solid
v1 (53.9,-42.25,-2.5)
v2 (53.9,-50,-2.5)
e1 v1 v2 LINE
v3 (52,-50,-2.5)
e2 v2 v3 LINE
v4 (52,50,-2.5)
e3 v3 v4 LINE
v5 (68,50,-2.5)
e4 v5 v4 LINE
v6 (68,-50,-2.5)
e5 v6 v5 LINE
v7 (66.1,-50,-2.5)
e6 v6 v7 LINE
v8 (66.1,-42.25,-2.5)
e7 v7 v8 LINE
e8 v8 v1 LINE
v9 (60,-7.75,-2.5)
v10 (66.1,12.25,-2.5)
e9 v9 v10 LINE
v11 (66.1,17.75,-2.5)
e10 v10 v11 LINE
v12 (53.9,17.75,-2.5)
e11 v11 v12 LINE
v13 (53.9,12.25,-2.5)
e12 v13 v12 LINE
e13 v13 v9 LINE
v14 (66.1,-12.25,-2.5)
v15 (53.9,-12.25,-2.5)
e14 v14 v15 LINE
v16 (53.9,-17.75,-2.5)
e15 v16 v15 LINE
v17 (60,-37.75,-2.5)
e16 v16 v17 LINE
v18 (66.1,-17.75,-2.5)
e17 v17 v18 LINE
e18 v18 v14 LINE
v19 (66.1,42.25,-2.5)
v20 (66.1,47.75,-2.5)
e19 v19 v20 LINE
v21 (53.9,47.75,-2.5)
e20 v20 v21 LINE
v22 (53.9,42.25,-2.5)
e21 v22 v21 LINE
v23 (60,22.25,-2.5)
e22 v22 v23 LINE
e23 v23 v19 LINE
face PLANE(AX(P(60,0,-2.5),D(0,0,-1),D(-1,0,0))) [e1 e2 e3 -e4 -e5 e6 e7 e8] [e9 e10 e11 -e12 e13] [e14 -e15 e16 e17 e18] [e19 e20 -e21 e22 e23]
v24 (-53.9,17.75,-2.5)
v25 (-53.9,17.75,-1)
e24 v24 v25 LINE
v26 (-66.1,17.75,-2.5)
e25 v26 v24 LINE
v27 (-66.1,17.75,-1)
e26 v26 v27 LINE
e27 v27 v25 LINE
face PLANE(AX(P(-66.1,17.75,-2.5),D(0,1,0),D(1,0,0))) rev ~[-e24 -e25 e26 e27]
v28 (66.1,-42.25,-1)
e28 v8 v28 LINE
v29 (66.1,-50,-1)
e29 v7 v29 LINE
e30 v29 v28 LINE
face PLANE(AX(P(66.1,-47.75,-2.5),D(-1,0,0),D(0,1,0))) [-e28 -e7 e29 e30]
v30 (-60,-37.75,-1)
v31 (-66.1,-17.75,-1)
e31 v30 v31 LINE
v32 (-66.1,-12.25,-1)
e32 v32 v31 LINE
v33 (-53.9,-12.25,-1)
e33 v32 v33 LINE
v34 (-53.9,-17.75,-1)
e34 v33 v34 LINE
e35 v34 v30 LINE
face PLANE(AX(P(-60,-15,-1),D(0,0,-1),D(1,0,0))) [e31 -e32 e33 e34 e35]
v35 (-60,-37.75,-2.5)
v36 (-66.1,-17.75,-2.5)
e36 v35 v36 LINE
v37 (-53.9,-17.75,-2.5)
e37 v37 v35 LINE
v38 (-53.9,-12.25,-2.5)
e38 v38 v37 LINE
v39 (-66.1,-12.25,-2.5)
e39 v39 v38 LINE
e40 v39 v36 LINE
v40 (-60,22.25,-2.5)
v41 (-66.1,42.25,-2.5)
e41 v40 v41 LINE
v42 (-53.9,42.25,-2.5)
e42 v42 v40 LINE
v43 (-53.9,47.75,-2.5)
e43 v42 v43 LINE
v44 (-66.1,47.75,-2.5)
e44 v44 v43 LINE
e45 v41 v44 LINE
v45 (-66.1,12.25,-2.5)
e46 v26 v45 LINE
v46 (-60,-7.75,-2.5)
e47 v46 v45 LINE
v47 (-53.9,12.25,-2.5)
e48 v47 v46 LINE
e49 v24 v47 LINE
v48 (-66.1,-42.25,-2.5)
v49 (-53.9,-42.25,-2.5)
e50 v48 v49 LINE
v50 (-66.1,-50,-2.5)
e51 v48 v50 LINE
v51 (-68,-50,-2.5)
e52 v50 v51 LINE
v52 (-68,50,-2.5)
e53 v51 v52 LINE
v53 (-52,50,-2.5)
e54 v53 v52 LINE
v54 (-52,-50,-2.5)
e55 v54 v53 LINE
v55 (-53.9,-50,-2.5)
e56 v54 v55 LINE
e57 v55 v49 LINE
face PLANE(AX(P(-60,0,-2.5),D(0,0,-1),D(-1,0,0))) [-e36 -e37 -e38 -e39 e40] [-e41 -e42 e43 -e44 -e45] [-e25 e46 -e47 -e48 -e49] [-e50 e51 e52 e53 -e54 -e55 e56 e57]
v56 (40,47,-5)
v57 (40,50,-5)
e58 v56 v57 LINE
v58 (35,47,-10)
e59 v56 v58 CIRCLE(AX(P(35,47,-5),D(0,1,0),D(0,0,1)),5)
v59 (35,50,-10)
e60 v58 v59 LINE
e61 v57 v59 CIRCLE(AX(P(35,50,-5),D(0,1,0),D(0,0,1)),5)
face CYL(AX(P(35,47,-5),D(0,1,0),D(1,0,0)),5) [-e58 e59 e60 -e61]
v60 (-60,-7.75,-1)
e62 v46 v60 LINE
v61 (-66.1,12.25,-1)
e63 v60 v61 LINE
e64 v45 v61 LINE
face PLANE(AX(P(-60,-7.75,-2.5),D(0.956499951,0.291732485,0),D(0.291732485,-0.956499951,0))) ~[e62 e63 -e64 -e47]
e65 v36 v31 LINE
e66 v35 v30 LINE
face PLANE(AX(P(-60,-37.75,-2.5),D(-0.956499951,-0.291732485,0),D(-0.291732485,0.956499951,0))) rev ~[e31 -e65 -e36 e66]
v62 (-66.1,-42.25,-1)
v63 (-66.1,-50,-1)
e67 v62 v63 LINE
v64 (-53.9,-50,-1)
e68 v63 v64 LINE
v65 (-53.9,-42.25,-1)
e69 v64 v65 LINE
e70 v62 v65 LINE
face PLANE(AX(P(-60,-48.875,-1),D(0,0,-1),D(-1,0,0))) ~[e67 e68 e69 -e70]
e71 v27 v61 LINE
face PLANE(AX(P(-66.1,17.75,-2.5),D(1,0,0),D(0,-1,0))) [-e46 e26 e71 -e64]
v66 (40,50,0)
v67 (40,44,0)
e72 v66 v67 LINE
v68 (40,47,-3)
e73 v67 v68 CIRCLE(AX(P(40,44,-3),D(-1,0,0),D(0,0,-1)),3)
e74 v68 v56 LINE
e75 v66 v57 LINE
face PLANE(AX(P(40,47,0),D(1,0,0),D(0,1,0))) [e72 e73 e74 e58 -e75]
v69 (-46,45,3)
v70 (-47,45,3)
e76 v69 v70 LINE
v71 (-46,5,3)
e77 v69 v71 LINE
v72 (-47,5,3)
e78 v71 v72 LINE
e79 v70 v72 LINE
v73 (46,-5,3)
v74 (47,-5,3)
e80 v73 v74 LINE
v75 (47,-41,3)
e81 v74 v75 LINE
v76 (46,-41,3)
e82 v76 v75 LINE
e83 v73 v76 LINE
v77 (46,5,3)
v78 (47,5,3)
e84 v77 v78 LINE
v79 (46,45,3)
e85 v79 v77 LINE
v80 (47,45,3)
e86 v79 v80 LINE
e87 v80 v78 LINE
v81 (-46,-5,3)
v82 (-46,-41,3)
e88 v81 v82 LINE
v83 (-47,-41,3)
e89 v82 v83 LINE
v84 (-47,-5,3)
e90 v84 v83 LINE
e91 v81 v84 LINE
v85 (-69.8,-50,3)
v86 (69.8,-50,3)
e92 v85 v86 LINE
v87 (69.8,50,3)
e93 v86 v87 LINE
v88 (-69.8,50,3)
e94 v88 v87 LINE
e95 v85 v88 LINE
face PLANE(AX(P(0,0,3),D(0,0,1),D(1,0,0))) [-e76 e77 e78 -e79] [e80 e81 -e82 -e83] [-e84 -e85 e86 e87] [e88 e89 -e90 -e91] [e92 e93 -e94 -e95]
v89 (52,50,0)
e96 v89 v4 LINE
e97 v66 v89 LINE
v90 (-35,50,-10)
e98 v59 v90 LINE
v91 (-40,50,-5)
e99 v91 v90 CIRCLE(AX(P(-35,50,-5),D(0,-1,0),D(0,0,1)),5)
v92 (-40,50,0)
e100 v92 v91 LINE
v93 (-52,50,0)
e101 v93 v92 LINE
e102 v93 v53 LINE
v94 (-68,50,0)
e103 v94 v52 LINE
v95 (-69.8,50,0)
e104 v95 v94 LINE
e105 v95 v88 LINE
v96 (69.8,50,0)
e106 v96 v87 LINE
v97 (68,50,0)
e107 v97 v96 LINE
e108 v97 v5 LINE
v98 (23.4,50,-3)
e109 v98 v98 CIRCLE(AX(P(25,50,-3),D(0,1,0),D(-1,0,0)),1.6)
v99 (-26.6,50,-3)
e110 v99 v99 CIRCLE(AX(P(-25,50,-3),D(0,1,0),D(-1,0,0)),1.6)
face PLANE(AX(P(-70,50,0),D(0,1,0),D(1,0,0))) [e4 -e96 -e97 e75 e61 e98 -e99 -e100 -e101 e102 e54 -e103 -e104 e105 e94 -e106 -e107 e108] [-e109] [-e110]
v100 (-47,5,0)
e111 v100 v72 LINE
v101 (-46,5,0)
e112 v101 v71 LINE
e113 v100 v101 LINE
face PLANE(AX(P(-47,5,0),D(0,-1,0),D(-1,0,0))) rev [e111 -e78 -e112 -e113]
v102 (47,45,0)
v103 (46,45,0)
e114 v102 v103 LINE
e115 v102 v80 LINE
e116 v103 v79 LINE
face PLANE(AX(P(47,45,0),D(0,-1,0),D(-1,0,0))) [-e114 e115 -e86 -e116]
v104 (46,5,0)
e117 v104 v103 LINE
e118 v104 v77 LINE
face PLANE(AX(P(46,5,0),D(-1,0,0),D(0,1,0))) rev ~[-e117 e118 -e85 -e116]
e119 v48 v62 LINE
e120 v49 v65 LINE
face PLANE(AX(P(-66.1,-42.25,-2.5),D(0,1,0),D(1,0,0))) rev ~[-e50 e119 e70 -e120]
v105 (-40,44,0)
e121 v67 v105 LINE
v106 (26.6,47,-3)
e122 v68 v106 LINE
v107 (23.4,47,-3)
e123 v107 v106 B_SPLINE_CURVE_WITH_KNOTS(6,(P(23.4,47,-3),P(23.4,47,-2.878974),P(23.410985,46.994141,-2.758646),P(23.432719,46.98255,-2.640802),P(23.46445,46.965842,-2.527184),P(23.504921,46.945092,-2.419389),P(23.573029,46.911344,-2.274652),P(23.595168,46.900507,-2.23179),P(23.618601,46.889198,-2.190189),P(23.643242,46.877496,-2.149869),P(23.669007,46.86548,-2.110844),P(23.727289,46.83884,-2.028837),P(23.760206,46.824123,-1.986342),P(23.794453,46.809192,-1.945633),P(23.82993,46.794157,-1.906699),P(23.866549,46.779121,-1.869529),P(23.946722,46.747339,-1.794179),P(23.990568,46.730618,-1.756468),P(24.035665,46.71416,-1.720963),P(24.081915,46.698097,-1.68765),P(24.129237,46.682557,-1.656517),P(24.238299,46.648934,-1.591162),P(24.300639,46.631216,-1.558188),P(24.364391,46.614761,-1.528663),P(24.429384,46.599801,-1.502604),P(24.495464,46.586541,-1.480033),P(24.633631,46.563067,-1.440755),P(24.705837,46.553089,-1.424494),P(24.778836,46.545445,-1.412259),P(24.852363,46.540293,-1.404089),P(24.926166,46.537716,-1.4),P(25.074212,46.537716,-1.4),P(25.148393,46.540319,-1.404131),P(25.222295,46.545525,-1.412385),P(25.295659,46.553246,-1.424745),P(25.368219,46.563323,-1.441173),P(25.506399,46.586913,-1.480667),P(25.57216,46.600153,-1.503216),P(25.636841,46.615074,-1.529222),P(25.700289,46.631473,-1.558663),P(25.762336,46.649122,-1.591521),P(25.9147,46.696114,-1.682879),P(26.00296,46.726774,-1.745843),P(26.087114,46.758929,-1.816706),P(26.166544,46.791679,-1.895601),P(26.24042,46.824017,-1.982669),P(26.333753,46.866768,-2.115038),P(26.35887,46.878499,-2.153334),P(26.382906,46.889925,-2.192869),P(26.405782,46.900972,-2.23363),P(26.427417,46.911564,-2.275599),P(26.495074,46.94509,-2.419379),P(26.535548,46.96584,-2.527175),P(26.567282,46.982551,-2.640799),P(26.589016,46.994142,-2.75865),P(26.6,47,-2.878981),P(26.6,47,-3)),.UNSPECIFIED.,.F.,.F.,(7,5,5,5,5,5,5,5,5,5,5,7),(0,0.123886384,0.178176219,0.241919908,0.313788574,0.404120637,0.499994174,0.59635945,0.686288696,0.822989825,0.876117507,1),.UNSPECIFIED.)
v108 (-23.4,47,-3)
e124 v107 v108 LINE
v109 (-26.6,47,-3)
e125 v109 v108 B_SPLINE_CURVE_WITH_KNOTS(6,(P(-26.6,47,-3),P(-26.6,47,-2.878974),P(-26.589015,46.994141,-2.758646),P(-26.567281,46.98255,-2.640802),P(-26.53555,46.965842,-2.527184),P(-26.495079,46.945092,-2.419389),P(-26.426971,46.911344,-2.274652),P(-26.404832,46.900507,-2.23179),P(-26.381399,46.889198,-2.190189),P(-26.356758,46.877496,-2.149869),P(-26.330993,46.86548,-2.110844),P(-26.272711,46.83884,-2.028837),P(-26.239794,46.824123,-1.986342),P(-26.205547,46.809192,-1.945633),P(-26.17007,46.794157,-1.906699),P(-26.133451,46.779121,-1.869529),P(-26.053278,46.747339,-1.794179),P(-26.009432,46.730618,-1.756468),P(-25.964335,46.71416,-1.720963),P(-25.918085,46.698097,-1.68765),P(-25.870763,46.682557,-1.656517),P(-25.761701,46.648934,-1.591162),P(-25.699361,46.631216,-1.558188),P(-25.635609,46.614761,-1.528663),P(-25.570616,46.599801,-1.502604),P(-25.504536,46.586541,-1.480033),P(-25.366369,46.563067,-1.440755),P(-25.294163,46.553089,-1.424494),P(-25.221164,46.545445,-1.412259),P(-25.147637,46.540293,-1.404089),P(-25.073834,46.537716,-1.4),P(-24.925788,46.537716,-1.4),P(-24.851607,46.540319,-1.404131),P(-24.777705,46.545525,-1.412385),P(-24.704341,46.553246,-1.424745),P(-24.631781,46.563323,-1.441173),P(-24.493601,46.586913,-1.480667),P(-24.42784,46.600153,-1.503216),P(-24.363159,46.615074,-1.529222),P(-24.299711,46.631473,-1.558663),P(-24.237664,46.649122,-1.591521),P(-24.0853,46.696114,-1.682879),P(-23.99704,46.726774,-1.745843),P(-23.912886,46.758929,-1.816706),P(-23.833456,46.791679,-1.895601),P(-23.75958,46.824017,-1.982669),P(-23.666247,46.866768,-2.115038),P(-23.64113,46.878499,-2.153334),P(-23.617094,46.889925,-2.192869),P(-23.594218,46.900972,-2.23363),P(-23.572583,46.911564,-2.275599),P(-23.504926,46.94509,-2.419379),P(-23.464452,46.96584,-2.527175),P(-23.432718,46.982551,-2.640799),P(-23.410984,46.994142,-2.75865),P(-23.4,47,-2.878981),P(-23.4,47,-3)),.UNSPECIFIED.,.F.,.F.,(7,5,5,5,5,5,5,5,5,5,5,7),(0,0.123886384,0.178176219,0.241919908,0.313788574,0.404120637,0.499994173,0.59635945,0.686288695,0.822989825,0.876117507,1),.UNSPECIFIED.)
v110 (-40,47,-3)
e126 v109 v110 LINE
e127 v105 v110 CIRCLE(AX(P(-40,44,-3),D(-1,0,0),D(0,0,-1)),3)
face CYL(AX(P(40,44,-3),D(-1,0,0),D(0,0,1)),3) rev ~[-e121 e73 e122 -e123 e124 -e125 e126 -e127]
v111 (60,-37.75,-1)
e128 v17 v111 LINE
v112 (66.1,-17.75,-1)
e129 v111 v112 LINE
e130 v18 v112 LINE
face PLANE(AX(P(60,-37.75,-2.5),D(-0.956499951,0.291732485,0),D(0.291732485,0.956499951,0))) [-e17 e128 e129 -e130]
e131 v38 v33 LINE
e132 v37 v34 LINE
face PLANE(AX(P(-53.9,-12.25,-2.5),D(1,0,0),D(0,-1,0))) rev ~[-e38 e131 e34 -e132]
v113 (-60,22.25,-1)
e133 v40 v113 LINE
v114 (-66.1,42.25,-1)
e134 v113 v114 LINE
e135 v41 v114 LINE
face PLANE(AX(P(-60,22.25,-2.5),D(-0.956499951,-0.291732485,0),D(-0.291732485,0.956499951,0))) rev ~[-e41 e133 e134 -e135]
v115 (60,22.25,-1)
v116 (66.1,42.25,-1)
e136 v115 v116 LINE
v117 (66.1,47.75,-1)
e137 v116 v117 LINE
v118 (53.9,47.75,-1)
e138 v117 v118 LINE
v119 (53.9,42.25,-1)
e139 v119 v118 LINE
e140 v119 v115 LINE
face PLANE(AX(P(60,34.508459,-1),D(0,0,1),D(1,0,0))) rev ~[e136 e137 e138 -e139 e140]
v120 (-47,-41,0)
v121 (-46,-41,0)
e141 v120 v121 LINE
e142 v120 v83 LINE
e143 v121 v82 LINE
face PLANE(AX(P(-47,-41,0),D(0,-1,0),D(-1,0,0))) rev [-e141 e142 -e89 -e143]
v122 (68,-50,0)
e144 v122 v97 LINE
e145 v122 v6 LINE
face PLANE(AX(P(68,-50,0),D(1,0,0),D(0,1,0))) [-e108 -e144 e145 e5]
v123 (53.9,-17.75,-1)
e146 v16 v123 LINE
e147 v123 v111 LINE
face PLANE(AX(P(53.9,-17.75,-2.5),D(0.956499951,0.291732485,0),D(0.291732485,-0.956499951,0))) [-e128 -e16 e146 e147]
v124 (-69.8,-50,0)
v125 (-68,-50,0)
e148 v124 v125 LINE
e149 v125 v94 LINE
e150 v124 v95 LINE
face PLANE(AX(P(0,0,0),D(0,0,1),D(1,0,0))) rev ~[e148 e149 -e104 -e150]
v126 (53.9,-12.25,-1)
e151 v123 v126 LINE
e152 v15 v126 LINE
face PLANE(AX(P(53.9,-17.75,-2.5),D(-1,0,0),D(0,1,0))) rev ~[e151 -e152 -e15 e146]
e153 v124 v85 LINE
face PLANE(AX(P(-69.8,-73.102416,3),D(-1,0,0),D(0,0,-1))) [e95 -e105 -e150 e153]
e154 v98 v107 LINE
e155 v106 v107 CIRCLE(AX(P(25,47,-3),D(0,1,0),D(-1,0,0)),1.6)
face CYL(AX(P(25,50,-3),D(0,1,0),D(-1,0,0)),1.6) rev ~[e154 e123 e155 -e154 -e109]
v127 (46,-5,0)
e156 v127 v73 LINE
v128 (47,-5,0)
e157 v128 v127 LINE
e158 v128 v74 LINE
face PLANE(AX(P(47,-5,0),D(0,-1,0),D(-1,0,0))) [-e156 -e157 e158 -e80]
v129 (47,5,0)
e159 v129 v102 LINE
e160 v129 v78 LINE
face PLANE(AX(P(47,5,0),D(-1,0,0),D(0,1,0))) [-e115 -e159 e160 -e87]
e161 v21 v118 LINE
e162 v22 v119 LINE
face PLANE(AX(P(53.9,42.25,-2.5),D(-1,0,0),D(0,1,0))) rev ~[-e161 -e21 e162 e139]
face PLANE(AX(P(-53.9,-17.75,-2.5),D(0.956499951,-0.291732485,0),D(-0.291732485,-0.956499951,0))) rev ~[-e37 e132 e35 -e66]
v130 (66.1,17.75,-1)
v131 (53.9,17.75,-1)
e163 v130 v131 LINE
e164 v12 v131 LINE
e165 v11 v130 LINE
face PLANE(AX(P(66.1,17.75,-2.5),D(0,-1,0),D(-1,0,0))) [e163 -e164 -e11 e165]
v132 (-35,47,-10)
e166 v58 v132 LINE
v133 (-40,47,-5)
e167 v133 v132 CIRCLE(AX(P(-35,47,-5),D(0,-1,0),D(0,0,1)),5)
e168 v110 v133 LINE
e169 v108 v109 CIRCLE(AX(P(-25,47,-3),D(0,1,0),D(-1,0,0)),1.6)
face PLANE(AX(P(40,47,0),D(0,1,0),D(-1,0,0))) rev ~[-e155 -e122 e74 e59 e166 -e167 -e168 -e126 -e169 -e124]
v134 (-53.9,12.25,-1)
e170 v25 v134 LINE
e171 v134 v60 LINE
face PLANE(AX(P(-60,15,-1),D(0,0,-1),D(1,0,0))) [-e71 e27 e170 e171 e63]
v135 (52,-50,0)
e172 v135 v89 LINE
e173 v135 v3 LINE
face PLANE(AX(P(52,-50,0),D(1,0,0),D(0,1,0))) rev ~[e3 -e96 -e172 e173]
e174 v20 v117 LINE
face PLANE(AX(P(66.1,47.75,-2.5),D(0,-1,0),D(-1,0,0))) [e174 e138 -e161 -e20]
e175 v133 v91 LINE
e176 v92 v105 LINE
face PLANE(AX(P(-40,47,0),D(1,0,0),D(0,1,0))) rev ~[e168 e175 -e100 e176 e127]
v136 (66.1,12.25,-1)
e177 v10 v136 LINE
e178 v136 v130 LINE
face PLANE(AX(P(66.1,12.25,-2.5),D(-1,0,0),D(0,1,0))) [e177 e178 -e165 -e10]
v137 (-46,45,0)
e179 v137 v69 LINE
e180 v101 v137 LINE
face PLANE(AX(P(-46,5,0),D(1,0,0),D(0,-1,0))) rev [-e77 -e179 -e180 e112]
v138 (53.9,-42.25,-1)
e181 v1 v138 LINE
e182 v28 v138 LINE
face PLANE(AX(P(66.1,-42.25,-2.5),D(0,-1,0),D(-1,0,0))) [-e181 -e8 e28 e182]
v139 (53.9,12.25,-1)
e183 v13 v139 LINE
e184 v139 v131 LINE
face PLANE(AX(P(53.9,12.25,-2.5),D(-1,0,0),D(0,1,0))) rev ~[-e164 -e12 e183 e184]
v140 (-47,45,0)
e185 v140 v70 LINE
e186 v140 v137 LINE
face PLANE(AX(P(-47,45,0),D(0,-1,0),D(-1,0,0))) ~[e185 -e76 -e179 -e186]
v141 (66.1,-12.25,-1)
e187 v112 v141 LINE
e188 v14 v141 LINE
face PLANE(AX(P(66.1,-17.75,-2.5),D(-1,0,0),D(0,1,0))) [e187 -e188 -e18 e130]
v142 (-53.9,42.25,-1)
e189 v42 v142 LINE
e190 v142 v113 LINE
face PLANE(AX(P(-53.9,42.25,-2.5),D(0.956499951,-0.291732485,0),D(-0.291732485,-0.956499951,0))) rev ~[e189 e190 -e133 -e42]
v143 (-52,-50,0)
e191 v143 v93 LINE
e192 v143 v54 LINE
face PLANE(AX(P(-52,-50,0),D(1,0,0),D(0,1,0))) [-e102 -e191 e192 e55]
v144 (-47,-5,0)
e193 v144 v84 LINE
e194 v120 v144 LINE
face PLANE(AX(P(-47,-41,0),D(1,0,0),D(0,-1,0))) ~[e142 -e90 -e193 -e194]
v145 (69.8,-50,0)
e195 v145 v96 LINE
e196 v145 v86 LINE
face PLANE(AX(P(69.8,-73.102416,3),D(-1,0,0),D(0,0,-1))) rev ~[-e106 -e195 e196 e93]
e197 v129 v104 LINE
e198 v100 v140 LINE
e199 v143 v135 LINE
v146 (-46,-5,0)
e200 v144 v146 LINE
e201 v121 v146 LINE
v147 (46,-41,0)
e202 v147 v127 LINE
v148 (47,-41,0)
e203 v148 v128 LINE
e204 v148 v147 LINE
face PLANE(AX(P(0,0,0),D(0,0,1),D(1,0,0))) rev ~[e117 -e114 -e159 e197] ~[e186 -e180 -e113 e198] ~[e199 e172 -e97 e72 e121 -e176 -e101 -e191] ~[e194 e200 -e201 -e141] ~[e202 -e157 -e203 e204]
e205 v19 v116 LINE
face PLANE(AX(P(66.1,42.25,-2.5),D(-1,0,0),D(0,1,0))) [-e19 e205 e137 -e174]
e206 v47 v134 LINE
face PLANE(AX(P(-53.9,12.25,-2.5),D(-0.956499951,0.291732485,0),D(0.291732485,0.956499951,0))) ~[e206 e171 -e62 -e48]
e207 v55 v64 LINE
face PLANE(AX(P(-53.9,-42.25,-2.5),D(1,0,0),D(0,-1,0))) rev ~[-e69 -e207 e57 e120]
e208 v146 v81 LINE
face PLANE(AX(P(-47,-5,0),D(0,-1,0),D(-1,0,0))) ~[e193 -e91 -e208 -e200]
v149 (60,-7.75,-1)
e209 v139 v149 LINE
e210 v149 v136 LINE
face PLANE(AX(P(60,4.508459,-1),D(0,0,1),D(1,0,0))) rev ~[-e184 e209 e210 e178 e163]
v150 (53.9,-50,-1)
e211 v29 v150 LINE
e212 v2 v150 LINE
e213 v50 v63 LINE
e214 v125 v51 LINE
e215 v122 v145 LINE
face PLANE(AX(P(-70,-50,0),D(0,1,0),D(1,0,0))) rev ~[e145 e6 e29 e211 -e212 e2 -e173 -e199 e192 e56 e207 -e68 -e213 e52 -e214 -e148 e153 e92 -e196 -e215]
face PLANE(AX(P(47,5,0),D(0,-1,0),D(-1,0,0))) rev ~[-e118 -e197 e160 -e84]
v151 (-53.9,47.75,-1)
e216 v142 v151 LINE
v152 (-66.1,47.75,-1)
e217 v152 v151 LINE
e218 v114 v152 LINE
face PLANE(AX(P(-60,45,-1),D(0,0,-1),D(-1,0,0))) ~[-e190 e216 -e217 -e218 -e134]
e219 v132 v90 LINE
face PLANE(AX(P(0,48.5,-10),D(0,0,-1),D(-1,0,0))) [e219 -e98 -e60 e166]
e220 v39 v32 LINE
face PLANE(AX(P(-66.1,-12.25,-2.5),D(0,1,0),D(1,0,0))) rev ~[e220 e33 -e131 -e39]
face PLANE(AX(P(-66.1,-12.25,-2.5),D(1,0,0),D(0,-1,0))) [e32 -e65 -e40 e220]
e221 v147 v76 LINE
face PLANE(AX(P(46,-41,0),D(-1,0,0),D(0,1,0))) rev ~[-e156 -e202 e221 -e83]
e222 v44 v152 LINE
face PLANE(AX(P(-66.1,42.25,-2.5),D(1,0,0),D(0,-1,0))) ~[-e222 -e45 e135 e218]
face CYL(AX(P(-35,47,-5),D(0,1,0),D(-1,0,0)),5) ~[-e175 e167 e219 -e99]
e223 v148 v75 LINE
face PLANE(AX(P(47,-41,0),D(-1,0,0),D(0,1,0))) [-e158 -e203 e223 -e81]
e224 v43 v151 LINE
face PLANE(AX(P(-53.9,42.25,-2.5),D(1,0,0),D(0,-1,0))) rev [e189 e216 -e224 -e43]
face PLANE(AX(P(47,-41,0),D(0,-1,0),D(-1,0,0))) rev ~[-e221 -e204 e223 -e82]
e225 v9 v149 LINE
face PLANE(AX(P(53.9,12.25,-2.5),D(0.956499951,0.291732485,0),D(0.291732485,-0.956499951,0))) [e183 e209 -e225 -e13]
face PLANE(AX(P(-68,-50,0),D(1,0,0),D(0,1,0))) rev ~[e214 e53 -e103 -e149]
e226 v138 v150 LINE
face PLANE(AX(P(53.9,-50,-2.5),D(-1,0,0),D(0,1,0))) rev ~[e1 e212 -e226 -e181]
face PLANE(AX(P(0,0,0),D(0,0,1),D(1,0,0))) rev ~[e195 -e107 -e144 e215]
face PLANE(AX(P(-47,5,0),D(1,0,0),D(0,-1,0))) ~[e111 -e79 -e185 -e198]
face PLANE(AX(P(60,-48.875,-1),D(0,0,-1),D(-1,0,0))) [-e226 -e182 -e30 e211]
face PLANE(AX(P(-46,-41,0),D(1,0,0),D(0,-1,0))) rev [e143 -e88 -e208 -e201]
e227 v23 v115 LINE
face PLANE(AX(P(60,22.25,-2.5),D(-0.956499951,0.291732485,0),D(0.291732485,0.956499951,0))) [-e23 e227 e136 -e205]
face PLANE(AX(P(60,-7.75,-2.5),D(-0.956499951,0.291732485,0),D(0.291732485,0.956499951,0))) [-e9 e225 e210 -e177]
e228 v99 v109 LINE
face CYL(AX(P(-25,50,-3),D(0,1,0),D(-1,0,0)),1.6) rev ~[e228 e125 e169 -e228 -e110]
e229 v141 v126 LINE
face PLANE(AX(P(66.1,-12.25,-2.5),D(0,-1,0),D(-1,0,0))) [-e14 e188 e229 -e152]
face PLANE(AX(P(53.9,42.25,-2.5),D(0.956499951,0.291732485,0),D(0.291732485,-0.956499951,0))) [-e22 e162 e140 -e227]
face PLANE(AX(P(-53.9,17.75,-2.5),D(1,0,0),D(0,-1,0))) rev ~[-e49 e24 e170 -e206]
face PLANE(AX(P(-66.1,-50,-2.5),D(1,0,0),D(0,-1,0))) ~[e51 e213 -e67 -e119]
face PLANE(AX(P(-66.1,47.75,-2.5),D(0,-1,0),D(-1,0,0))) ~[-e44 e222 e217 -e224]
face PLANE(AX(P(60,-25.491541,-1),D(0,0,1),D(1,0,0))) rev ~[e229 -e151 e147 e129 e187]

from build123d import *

# Parameters (mm, degrees)
SKETCH1_W                 = 140
SKETCH1_H                 = 100
BOSS_EXTRUDE1_DEPTH       = 3
SKETCH3_W                 = 16
SKETCH3_H                 = 100
BOSS_EXTRUDE2_DEPTH       = 2.5
SKETCH4_W                 = 12.2
SKETCH4_H                 = 5.5
CUT_EXTRUDE1_DEPTH        = 1.5
LPATTERN1_COUNT           = 4
LPATTERN1_PITCH           = 30
LPATTERN1_COPY_1_SKETCH_W = 12.2
LPATTERN1_COPY_1_SKETCH_H = 5.5
LPATTERN1_COPY_1_DEPTH    = 1.5
LPATTERN1_COPY_2_SKETCH_W = 12.2
LPATTERN1_COPY_2_SKETCH_H = 5.5
LPATTERN1_COPY_2_DEPTH    = 1.5
LPATTERN1_COPY_3_SKETCH_W = 12.2
LPATTERN1_COPY_3_SKETCH_H = 5.5
LPATTERN1_COPY_3_DEPTH    = 1.5
CUT_EXTRUDE3_DEPTH        = 123.102416029
CUT_EXTRUDE3_DEPTH_BACK   = 123.102416029
SKETCH6_W                 = 0.2
SKETCH6_H                 = 3
CUT_EXTRUDE5_DEPTH        = 1.5
LPATTERN2_COUNT           = 2
LPATTERN2_PITCH           = 30
LPATTERN2_COL_COUNT       = 2
LPATTERN2_COL_PITCH       = 30
MIRROR4_COPY_1_DEPTH      = 1.5
MIRROR4_COPY_2_DEPTH      = 1.5
SKETCH13_W                = 1
SKETCH13_H                = 40
SKETCH13_H_2              = 36
CUT_EXTRUDE7_DEPTH        = 10
SKETCH15_W                = 80
SKETCH15_H                = 3
BOSS_EXTRUDE4_DEPTH       = 10
FILLET2_R                 = 5
FILLET3_R                 = 3
SKETCH17_W                = 12.2
SKETCH17_H                = 2.25
CUT_EXTRUDE9_DEPTH        = 1.5
SKETCH18_R                = 1.6
CUT_EXTRUDE10_DEPTH       = 10


with BuildPart() as part:
    # Sketch1 → Boss-Extrude1 (new body)
    with BuildSketch(Plane.XY):
        Rectangle(SKETCH1_W, SKETCH1_H)
    extrude(amount=BOSS_EXTRUDE1_DEPTH)

    # Sketch3 → Boss-Extrude2 (add)
    with BuildSketch(Plane(origin=(0, 0, 0), x_dir=(-1, 0, 0), z_dir=(0, 0, -1))):
        with Locations((-60, 0)):
            Rectangle(SKETCH3_W, SKETCH3_H)
        with Locations((60, 0)):
            Rectangle(SKETCH3_W, SKETCH3_H)
    extrude(amount=BOSS_EXTRUDE2_DEPTH)

    # Sketch4 → Cut-Extrude1 (cut)
    with BuildSketch(Plane(origin=(0, 0, -2.5), x_dir=(-1, 0, 0), z_dir=(0, 0, -1))):
        with Locations((-60, 45)):
            Rectangle(SKETCH4_W, SKETCH4_H)
    cut_extrude1 = extrude(amount=-CUT_EXTRUDE1_DEPTH, mode=Mode.SUBTRACT)

    # Mirror1: Cut-Extrude1 across plane
    add(cut_extrude1.mirror(Plane(origin=(0, 0, 0), x_dir=(0, 0, 1), z_dir=(1, 0, 0))), mode=Mode.SUBTRACT)

    # LPattern1: Cut-Extrude1 ×4
    with Locations(*[(0, -i * LPATTERN1_PITCH, 0) for i in range(1, LPATTERN1_COUNT)]):
        add(cut_extrude1, mode=Mode.SUBTRACT)

    # LPattern1 copy 1 sketch → LPattern1 copy 1 (cut)
    with BuildSketch(Plane(origin=(0, -30, -2.5), x_dir=(1, 0, 0), z_dir=(0, 0, -1))):
        with Locations((-60, -45)):
            Rectangle(LPATTERN1_COPY_1_SKETCH_W, LPATTERN1_COPY_1_SKETCH_H)
    extrude(amount=-LPATTERN1_COPY_1_DEPTH, mode=Mode.SUBTRACT)

    # LPattern1 copy 2 sketch → LPattern1 copy 2 (cut)
    with BuildSketch(Plane(origin=(0, -60, -2.5), x_dir=(1, 0, 0), z_dir=(0, 0, -1))):
        with Locations((-60, -45)):
            Rectangle(LPATTERN1_COPY_2_SKETCH_W, LPATTERN1_COPY_2_SKETCH_H)
    extrude(amount=-LPATTERN1_COPY_2_DEPTH, mode=Mode.SUBTRACT)

    # LPattern1 copy 3 sketch → LPattern1 copy 3 (cut)
    with BuildSketch(Plane(origin=(0, -90, -2.5), x_dir=(1, 0, 0), z_dir=(0, 0, -1))):
        with Locations((-60, -45)):
            Rectangle(LPATTERN1_COPY_3_SKETCH_W, LPATTERN1_COPY_3_SKETCH_H)
    extrude(amount=-LPATTERN1_COPY_3_DEPTH, mode=Mode.SUBTRACT)

    # Sketch6 → Cut-Extrude3 (cut, two sides: drawn at the far end of the back side and taken through both)
    with BuildSketch(Plane(origin=(0, 50, 0), x_dir=(1, 0, 0), z_dir=(0, 1, 0)).offset(-CUT_EXTRUDE3_DEPTH_BACK)):
        with Locations((-69.9, -1.5)):
            Rectangle(SKETCH6_W, SKETCH6_H)
        with Locations((69.9, -1.5)):
            Rectangle(SKETCH6_W, SKETCH6_H)
    extrude(amount=CUT_EXTRUDE3_DEPTH + CUT_EXTRUDE3_DEPTH_BACK, mode=Mode.SUBTRACT)

    # Sketch11 → Cut-Extrude5 (cut)
    with BuildSketch(Plane(origin=(0, 0, -2.5), x_dir=(-1, 0, 0), z_dir=(0, 0, -1))):
        Polygon((-53.9, 12.25), (-60, -7.75), (-66.1, 12.25), align=None)
    cut_extrude5 = extrude(amount=-CUT_EXTRUDE5_DEPTH, mode=Mode.SUBTRACT)

    # LPattern2: Cut-Extrude5 ×2
    with Locations(*[(0, i * LPATTERN2_PITCH, 0) for i in range(1, LPATTERN2_COUNT)]):
        add(cut_extrude5, mode=Mode.SUBTRACT)

    # LPattern2 col: Cut-Extrude5 ×2
    with Locations(*[(0, -i * LPATTERN2_COL_PITCH, 0) for i in range(1, LPATTERN2_COL_COUNT)]):
        add(cut_extrude5, mode=Mode.SUBTRACT)

    # Mirror4: Cut-Extrude5 across plane
    add(cut_extrude5.mirror(Plane(origin=(0, 0, 0), x_dir=(0, 0, 1), z_dir=(1, 0, 0))), mode=Mode.SUBTRACT)

    # Mirror4 copy 1 sketch → Mirror4 copy 1 (cut)
    with BuildSketch(Plane(origin=(0, 30, -2.5), x_dir=(1, 0, 0), z_dir=(0, 0, -1))):
        Polygon((-53.9, -12.25), (-60, 7.75), (-66.1, -12.25), align=None)
    extrude(amount=-MIRROR4_COPY_1_DEPTH, mode=Mode.SUBTRACT)

    # Mirror4 copy 2 sketch → Mirror4 copy 2 (cut)
    with BuildSketch(Plane(origin=(0, -30, -2.5), x_dir=(1, 0, 0), z_dir=(0, 0, -1))):
        Polygon((-53.9, -12.25), (-60, 7.75), (-66.1, -12.25), align=None)
    extrude(amount=-MIRROR4_COPY_2_DEPTH, mode=Mode.SUBTRACT)

    # Sketch13 → Cut-Extrude7 (cut)
    with BuildSketch(Plane(origin=(0, 0, 0), x_dir=(-1, 0, 0), z_dir=(0, 0, -1))):
        with Locations((-46.5, 25)):
            Rectangle(SKETCH13_W, SKETCH13_H)
        with Locations((-46.5, -23)):
            Rectangle(SKETCH13_W, SKETCH13_H_2)
    cut_extrude7 = extrude(amount=-CUT_EXTRUDE7_DEPTH, mode=Mode.SUBTRACT)

    # Mirror7: Cut-Extrude7 across plane
    add(cut_extrude7.mirror(Plane(origin=(0, 0, 0), x_dir=(0, 0, 1), z_dir=(1, 0, 0))), mode=Mode.SUBTRACT)

    # Sketch15 → Boss-Extrude4 (add)
    with BuildSketch(Plane(origin=(0, 0, 0), x_dir=(-1, 0, 0), z_dir=(0, 0, -1))):
        with Locations((0, 48.5)):
            Rectangle(SKETCH15_W, SKETCH15_H)
    extrude(amount=BOSS_EXTRUDE4_DEPTH)

    # Fillet2
    fillet2_edges = [part.edges().sort_by_distance(p)[0] for p in [
        (40, 48.5, -10),
        (-40, 48.5, -10),
    ]]
    fillet(fillet2_edges, radius=FILLET2_R)

    # Fillet3
    fillet3_edges = [part.edges().sort_by_distance(p)[0] for p in [
        (0, 47, 0),
    ]]
    fillet(fillet3_edges, radius=FILLET3_R)

    # Sketch17 → Cut-Extrude9 (cut)
    with BuildSketch(Plane(origin=(0, 0, -2.5), x_dir=(-1, 0, 0), z_dir=(0, 0, -1))):
        with Locations((-60, -48.875)):
            Rectangle(SKETCH17_W, SKETCH17_H)
    cut_extrude9 = extrude(amount=-CUT_EXTRUDE9_DEPTH, mode=Mode.SUBTRACT)

    # Mirror8: Cut-Extrude9 across plane
    add(cut_extrude9.mirror(Plane(origin=(0, 0, 0), x_dir=(0, 0, 1), z_dir=(1, 0, 0))), mode=Mode.SUBTRACT)

    # Sketch18 → Cut-Extrude10 (cut)
    with BuildSketch(Plane(origin=(0, 50, 0), x_dir=(1, 0, 0), z_dir=(0, 1, 0))):
        with Locations(Location((-25, 3, 0), (0, 0, 180))):
            Circle(SKETCH18_R)
        with Locations(Location((25, 3, 0), (0, 0, 180))):
            Circle(SKETCH18_R)
    extrude(amount=-CUT_EXTRUDE10_DEPTH, mode=Mode.SUBTRACT)


solid = part.part
